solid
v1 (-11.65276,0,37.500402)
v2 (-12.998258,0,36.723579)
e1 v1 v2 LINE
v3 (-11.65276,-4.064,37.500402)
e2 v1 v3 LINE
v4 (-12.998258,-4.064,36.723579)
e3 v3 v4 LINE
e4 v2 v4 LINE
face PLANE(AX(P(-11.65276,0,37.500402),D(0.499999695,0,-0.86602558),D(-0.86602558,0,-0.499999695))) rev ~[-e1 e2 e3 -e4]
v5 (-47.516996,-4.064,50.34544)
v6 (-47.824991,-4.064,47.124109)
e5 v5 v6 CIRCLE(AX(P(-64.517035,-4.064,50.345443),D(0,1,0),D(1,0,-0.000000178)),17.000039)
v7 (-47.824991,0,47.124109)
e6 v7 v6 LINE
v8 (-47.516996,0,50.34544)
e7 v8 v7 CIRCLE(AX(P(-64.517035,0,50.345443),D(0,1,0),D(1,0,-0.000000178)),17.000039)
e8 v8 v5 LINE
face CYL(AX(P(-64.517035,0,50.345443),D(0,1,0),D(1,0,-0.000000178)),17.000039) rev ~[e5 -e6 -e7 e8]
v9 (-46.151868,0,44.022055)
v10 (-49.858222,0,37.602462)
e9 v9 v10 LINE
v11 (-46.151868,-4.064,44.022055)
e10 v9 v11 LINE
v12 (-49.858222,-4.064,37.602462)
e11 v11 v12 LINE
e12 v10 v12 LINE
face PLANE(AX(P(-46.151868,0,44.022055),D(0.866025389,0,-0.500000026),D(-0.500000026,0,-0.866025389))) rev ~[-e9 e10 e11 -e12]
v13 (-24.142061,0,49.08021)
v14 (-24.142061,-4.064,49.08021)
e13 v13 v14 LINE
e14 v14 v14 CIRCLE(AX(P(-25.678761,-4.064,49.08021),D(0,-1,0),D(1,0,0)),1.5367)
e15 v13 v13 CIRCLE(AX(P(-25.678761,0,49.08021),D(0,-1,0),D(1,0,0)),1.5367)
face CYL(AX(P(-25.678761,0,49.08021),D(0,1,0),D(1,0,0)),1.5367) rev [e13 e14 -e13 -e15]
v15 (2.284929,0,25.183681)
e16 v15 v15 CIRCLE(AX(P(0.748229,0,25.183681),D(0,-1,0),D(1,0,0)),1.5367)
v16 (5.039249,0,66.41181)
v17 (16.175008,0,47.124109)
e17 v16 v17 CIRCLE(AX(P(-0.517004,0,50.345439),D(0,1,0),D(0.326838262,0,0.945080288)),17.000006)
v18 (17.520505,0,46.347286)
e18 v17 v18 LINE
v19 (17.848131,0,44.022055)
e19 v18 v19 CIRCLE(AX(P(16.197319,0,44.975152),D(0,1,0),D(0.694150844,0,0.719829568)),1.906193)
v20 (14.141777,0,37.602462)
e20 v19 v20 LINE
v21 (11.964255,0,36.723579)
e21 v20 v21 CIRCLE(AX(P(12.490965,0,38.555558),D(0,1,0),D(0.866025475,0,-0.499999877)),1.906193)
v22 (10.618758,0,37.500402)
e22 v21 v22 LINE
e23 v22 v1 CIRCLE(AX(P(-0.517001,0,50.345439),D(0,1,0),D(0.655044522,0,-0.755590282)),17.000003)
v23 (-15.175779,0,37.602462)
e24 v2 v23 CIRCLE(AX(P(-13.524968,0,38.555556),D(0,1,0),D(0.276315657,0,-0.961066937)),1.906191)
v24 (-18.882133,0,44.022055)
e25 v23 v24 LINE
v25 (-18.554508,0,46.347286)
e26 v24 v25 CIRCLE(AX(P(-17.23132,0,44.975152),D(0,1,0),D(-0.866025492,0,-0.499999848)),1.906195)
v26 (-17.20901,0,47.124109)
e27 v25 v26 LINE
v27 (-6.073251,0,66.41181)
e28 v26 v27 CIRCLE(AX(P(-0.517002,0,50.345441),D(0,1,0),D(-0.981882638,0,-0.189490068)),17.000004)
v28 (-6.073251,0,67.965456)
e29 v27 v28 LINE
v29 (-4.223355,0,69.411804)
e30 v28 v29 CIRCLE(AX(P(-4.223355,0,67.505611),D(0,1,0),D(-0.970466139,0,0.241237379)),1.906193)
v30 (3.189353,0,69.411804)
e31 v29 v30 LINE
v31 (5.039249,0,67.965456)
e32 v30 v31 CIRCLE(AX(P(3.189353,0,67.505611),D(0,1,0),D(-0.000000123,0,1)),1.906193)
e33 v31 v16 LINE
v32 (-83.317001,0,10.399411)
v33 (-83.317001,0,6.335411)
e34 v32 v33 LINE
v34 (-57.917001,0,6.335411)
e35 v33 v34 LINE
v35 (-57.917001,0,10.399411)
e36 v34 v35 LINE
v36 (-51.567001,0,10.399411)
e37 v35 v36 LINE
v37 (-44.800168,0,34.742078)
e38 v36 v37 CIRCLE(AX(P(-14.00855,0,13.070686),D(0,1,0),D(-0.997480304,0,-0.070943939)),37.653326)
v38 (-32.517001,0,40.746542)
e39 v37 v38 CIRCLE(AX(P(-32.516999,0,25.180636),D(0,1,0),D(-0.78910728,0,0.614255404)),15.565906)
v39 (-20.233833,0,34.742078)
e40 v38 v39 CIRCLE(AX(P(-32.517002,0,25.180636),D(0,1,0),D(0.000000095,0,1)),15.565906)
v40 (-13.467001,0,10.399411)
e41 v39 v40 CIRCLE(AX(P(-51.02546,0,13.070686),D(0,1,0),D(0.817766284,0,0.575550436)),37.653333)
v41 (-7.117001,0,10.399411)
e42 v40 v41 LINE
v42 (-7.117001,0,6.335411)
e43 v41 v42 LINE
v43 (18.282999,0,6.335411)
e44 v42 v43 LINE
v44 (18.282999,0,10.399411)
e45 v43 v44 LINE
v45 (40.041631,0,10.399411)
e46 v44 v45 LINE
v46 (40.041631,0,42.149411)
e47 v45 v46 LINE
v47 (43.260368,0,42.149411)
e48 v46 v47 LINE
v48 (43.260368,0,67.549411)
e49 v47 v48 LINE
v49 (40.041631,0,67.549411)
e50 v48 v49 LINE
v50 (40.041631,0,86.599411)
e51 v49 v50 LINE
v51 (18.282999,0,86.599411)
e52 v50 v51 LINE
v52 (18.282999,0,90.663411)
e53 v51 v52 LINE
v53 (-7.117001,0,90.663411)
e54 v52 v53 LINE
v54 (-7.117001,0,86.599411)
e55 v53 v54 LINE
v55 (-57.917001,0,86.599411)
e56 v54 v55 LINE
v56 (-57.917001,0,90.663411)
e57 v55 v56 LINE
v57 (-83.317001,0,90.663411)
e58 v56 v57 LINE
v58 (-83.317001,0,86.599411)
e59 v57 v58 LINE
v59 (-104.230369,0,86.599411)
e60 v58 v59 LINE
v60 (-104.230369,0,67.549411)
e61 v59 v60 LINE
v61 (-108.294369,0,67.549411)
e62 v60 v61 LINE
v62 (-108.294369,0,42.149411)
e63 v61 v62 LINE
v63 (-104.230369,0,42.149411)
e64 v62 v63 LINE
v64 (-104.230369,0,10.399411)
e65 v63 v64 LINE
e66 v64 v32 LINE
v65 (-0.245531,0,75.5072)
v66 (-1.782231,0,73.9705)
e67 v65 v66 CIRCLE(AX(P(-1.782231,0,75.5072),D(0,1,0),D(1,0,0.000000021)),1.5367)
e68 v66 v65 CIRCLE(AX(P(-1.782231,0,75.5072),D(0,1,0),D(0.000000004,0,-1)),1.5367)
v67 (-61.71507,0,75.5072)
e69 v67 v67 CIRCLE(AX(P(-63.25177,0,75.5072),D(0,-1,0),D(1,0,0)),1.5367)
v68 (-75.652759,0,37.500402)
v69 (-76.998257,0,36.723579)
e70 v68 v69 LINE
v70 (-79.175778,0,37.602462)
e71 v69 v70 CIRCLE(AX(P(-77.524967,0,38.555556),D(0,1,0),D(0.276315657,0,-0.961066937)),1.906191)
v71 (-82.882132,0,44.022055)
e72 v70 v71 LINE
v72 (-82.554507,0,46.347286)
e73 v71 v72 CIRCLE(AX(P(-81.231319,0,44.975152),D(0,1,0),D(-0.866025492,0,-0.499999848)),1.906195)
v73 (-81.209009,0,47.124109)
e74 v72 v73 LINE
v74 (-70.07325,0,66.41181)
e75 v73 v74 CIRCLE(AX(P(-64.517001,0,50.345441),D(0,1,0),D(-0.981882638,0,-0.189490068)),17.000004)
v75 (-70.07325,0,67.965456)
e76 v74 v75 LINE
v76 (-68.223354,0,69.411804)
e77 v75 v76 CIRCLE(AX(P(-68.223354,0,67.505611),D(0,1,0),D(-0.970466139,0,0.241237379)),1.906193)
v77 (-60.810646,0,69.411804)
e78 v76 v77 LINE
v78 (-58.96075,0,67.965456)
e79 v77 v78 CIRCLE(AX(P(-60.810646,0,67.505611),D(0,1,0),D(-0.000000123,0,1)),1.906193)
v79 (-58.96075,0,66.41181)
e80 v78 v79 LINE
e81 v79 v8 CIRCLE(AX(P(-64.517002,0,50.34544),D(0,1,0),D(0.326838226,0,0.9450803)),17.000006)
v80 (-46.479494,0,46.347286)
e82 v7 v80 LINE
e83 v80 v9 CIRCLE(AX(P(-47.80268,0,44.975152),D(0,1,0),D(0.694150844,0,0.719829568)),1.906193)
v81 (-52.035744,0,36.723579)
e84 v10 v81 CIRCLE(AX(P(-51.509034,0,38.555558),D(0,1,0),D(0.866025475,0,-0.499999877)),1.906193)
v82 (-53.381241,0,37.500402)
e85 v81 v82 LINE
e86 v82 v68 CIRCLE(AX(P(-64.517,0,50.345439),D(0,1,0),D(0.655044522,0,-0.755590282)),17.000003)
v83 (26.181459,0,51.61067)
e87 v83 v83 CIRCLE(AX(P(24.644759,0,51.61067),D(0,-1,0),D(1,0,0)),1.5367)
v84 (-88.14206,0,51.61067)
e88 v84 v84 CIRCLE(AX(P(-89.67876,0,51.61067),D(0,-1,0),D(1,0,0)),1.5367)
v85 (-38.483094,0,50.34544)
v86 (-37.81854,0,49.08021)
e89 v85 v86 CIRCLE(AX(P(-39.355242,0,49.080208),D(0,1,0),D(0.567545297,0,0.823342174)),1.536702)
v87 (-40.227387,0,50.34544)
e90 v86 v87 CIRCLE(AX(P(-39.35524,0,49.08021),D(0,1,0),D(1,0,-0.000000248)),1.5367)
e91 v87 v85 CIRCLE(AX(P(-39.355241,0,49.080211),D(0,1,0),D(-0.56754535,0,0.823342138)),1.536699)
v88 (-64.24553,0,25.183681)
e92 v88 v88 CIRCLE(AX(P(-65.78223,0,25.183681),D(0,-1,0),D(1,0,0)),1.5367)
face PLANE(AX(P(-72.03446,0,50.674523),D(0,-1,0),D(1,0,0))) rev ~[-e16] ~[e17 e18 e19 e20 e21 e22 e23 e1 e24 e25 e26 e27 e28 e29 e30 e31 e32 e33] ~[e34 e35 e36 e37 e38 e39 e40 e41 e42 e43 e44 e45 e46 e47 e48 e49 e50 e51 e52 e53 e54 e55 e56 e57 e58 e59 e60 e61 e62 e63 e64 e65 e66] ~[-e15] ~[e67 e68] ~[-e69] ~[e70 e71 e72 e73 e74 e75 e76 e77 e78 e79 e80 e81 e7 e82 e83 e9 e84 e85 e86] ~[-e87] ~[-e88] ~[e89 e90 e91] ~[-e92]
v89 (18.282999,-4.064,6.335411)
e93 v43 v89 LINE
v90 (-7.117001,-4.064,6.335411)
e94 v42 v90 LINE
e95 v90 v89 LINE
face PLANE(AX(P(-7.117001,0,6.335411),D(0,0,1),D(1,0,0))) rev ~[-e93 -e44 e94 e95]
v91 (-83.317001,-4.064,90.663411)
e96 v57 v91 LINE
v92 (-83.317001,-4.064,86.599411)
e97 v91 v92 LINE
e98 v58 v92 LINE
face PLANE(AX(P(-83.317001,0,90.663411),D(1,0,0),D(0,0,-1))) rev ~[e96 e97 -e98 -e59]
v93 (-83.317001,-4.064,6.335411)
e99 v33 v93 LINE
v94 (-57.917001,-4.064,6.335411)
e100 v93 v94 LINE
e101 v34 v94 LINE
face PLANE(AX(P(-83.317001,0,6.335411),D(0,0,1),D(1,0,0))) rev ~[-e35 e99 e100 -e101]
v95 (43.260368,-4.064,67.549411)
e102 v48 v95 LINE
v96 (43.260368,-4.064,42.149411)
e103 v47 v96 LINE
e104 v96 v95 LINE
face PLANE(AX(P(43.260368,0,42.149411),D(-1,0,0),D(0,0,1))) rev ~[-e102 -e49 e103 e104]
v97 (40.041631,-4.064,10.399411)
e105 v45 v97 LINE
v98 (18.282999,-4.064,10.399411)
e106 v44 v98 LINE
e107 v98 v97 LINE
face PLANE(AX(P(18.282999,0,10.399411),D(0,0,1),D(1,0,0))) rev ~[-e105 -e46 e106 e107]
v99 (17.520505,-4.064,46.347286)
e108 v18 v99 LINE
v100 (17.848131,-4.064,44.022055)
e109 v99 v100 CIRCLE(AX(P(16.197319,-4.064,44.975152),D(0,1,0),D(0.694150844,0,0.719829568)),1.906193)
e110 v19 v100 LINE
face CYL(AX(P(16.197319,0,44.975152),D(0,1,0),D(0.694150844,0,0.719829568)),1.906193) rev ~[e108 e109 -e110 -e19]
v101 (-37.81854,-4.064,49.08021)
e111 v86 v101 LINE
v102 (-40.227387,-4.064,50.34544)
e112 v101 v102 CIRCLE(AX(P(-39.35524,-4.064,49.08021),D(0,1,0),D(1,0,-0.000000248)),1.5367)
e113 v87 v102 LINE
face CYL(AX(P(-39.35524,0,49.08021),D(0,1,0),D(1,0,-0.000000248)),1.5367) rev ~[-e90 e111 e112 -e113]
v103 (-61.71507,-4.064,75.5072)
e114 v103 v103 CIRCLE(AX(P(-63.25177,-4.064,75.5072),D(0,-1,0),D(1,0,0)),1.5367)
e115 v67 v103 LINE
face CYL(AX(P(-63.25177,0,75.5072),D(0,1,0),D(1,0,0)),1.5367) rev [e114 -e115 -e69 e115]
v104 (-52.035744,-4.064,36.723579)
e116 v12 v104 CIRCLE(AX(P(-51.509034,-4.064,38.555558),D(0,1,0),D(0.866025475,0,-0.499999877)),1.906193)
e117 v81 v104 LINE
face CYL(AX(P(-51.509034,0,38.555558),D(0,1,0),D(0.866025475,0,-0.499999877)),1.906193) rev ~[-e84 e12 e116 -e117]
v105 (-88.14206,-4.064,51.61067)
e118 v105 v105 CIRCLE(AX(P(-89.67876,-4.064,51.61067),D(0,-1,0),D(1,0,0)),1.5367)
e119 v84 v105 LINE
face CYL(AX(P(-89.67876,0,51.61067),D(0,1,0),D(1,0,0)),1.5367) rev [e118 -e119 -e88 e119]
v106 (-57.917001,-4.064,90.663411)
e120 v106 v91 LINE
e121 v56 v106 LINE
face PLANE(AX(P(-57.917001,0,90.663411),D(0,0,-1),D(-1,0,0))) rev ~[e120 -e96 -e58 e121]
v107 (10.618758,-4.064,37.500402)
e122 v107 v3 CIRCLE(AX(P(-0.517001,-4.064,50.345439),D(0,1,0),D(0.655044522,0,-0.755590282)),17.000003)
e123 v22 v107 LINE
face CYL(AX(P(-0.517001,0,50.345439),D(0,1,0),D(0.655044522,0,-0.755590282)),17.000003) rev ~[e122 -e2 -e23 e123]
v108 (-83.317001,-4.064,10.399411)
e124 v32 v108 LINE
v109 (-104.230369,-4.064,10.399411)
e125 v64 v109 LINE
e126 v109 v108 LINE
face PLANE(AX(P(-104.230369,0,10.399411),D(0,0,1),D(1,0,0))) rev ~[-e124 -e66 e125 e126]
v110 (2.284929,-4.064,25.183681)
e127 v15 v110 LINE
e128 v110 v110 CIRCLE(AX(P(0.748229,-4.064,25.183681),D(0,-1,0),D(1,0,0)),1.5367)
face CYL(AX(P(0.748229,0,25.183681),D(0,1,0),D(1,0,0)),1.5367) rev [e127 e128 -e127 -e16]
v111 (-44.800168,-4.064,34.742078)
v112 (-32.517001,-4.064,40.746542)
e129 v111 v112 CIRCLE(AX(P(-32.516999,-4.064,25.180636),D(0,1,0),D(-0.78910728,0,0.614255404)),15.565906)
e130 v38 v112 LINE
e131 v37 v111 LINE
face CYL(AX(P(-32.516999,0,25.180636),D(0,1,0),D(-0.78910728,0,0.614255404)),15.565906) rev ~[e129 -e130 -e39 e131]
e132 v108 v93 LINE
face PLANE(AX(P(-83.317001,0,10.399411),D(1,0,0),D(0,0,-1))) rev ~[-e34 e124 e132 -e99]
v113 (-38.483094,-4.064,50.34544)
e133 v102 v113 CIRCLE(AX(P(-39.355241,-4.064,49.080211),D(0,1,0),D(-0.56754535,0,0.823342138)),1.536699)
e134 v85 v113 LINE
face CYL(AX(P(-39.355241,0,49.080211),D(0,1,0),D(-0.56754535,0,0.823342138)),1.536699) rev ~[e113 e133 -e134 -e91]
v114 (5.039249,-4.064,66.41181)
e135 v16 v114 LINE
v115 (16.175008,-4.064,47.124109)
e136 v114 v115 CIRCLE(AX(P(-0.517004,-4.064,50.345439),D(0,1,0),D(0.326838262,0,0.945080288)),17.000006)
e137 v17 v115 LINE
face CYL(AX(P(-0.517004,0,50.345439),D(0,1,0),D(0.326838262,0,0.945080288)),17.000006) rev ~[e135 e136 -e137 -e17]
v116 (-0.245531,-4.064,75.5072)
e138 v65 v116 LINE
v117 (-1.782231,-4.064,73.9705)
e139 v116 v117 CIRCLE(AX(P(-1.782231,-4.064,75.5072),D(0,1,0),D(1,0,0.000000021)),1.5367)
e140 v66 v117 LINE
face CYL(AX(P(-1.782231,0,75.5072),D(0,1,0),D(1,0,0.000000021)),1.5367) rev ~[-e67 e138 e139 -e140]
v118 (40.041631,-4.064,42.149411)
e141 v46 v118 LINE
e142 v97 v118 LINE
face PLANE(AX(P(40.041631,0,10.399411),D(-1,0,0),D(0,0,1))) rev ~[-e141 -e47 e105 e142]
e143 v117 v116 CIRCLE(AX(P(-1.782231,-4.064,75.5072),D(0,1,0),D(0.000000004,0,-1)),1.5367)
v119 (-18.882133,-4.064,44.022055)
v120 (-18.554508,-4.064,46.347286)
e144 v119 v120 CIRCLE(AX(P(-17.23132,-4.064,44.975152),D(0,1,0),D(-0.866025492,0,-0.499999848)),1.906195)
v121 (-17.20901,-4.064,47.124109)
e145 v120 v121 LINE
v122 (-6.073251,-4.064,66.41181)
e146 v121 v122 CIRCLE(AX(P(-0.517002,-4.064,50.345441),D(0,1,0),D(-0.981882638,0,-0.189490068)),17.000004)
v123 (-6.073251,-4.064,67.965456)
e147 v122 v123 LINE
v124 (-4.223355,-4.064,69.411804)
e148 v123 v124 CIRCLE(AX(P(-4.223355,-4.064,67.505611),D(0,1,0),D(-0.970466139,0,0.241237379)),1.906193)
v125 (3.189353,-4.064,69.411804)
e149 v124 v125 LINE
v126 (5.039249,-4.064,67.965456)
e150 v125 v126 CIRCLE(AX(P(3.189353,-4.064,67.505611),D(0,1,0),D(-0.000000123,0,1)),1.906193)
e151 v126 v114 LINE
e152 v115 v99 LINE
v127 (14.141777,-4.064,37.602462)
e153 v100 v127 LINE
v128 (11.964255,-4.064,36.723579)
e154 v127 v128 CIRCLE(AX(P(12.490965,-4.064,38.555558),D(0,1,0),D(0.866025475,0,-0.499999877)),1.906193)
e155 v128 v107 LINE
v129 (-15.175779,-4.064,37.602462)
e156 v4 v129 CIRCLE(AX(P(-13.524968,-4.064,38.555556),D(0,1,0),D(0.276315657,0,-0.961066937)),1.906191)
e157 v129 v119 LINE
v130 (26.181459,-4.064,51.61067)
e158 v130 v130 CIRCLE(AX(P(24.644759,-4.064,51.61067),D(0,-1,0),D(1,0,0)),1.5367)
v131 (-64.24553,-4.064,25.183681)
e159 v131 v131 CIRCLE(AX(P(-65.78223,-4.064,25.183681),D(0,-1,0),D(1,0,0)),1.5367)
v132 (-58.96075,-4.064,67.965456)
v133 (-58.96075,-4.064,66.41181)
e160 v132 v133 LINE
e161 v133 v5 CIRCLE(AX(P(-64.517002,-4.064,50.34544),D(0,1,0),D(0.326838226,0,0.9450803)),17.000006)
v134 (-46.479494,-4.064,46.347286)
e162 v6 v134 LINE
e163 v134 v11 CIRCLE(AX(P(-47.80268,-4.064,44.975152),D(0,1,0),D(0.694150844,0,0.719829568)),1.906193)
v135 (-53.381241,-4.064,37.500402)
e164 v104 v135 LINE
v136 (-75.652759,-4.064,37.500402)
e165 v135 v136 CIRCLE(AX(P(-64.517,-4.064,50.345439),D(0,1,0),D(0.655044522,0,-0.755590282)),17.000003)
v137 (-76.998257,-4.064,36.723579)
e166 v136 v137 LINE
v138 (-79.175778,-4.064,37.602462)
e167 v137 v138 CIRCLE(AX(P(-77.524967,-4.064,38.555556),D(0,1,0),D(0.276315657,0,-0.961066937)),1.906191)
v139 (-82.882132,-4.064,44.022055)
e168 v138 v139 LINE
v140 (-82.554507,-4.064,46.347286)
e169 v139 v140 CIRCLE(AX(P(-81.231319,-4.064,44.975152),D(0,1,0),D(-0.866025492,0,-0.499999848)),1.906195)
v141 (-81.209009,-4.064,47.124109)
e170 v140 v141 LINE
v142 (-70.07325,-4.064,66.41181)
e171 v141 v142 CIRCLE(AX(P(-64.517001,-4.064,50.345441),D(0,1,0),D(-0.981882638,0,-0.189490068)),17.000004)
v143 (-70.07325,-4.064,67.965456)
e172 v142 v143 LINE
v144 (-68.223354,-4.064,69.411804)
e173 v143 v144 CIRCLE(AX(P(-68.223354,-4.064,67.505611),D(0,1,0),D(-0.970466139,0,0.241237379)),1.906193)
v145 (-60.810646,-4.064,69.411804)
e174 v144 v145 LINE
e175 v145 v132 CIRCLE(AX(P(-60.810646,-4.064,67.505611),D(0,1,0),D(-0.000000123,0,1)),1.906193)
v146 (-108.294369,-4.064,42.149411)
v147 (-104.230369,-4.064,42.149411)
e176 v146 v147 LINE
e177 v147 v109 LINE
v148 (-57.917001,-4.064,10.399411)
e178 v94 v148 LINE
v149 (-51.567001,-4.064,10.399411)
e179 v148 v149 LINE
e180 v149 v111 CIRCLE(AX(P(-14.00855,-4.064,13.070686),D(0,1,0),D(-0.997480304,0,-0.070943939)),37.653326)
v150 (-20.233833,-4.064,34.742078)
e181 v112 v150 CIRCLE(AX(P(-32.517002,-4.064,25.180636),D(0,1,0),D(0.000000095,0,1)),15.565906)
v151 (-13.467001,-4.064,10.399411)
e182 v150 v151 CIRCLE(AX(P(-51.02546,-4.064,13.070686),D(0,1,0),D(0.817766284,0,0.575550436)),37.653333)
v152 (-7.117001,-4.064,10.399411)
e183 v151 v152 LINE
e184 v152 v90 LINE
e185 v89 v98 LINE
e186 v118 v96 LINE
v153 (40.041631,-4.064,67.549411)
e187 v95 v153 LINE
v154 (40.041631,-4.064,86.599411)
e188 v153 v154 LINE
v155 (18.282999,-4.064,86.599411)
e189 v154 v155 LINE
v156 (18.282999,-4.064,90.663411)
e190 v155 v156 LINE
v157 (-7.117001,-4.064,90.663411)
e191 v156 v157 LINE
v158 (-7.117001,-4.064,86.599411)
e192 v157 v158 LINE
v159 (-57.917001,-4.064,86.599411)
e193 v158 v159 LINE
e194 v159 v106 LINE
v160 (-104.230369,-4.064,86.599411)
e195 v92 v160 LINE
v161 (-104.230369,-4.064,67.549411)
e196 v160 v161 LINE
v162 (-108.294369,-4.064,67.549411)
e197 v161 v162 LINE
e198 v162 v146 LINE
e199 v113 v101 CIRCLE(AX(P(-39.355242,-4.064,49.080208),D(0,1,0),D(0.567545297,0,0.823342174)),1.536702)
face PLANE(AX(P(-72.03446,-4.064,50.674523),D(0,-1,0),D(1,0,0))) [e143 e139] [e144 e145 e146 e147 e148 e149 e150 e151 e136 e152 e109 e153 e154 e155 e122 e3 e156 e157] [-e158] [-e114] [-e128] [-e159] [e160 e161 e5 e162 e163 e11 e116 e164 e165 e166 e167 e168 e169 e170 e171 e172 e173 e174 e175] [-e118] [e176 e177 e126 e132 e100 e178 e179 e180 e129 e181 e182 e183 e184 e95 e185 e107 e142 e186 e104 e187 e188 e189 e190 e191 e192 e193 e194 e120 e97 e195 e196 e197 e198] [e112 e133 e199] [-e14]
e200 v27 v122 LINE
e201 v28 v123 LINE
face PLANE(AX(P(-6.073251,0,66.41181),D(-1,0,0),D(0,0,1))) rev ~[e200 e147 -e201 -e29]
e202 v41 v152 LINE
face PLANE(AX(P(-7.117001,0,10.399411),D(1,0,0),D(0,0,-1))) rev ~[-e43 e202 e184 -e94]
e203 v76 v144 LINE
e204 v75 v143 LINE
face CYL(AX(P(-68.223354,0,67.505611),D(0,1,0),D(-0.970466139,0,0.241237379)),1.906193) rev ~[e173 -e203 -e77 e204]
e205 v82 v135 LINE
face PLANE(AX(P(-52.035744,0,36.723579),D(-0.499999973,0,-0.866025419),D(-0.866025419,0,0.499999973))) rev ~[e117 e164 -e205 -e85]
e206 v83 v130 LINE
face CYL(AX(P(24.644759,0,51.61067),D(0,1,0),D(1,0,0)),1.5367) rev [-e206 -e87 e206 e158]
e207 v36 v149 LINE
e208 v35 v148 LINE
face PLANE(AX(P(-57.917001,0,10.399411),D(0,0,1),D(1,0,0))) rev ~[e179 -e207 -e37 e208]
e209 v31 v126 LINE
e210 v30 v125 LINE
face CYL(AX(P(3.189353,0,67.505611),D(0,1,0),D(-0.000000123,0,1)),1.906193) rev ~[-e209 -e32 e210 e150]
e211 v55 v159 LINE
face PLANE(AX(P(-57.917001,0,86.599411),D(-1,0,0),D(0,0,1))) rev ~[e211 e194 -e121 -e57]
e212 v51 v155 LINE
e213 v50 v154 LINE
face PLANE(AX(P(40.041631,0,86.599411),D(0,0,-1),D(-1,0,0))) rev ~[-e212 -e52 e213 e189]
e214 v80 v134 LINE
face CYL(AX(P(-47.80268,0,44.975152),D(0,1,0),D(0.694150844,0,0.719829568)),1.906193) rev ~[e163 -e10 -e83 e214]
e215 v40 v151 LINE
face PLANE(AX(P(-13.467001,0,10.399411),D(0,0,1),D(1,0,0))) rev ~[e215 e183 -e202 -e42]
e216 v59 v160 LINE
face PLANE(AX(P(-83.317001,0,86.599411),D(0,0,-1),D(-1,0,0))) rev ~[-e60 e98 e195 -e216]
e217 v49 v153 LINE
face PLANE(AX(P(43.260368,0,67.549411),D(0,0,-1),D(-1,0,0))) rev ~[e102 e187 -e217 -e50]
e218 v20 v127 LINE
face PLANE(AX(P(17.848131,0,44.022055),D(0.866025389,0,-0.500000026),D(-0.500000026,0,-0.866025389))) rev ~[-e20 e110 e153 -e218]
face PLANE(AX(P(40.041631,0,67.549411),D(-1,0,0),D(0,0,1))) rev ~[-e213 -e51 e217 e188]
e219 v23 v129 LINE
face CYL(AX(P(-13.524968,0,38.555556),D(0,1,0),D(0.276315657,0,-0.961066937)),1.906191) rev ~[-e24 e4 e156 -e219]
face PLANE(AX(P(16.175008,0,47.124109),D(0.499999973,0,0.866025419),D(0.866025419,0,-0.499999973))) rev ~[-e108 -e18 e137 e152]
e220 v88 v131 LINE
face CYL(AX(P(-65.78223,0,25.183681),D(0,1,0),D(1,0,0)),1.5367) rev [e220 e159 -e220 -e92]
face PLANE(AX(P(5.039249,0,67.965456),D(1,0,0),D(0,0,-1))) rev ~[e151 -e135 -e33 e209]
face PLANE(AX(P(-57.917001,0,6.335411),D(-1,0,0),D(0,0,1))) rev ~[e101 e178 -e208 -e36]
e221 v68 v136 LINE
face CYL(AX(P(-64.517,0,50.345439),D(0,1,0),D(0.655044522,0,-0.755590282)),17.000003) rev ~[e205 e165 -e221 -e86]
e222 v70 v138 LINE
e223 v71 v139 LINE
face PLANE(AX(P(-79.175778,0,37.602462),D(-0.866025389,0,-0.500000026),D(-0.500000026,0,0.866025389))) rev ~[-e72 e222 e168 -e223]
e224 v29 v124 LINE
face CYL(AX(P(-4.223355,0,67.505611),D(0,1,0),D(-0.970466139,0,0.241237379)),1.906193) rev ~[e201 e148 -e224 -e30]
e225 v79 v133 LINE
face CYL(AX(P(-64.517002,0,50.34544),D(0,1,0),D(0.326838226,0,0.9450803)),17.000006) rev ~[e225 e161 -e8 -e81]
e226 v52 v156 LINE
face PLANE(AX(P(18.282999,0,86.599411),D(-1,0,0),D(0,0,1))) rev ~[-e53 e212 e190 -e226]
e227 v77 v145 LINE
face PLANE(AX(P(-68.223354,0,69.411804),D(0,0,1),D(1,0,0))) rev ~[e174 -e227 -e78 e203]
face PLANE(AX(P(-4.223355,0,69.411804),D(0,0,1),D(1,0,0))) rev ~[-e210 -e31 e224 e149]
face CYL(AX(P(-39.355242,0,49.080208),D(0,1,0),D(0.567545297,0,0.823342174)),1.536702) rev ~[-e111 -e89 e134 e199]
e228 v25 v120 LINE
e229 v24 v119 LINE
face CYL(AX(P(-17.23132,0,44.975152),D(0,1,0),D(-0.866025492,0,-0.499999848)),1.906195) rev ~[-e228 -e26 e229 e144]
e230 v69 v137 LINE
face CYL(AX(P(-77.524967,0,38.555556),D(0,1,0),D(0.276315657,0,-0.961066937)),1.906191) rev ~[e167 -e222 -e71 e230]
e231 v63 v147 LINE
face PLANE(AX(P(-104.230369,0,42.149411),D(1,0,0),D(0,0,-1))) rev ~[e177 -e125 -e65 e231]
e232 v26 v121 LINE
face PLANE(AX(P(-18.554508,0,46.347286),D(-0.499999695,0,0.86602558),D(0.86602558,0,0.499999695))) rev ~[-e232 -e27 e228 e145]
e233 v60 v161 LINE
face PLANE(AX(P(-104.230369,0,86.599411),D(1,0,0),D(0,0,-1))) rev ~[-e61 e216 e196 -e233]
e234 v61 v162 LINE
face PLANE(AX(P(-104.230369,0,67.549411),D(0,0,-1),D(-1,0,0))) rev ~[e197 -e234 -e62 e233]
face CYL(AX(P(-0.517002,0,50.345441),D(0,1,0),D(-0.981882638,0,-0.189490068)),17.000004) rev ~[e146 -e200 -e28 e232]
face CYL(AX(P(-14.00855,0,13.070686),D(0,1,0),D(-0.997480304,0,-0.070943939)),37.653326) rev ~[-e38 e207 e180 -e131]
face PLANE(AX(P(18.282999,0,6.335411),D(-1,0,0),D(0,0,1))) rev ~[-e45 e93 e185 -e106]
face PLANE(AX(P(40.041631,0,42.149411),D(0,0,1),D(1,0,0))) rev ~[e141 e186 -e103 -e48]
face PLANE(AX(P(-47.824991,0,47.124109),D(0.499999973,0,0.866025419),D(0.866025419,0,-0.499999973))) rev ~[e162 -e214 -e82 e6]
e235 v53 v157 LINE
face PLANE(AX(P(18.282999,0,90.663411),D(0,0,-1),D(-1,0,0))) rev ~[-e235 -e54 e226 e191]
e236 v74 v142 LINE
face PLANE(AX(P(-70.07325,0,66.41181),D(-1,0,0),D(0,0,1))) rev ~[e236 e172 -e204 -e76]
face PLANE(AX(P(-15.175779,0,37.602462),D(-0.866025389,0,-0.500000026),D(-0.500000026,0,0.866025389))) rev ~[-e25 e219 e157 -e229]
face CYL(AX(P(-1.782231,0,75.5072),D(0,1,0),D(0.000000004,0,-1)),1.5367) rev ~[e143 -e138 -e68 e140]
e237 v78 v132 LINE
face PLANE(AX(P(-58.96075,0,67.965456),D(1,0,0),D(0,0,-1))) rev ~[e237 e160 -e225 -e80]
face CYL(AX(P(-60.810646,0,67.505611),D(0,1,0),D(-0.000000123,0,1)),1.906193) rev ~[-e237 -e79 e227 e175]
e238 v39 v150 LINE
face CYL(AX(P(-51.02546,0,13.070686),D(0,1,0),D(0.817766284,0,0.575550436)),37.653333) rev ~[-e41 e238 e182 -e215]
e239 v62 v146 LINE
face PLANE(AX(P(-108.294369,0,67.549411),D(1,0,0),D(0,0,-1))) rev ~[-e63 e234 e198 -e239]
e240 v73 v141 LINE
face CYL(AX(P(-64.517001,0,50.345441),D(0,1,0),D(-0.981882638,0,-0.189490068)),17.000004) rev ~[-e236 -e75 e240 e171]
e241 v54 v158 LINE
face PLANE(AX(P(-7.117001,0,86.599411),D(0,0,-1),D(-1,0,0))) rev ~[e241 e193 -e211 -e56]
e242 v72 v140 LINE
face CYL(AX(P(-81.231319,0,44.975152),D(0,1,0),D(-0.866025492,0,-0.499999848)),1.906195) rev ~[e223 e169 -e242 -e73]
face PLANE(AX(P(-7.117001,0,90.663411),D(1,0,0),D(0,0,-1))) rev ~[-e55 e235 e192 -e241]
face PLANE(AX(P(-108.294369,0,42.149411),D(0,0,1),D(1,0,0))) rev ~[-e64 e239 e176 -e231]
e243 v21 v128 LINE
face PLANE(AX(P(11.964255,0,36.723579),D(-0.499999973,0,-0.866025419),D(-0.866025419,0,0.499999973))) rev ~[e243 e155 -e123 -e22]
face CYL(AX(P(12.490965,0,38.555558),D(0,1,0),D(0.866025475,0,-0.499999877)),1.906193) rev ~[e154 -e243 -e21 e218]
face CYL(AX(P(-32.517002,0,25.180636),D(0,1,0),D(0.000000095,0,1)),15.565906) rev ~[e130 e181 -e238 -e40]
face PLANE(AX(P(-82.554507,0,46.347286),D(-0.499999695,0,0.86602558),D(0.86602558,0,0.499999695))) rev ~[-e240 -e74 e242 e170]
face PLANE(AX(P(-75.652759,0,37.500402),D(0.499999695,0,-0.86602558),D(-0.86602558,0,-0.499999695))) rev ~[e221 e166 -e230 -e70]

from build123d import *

# Parameters (mm, degrees)
F0_R     = 1.5367
F1_DEPTH = 4.064


with BuildPart() as f1:
    # F0 (on Front) → F1 (new body)
    with BuildSketch(Plane.XZ):
        with BuildLine():
            Line((-104.230369, 34.021411), (-104.230369, 10.399411))
            Line((-104.230369, 10.399411), (-83.317001, 10.399411))
            Line((-83.317001, 10.399411), (-83.317001, 6.335411))
            Line((-83.317001, 6.335411), (-57.917001, 6.335411))
            Line((-57.917001, 6.335411), (-57.917001, 10.399411))
            Line((-57.917001, 10.399411), (-51.567001, 10.399411))
            ThreePointArc((-51.567001, 10.399411), (-50.286289, 23.155259), (-44.800168, 34.742078))
            ThreePointArc((-44.800168, 34.742078), (-39.353114, 39.16509), (-32.517001, 40.746542))
            Line((-32.517001, 40.746542), (-32.517001, 50.34544))
            Line((-32.517001, 50.34544), (-32.517001, 86.599411))
            Line((-32.517001, 86.599411), (-57.917001, 86.599411))
            Line((-57.917001, 86.599411), (-57.917001, 90.663411))
            Line((-57.917001, 90.663411), (-83.317001, 90.663411))
            Line((-83.317001, 90.663411), (-83.317001, 86.599411))
            Line((-83.317001, 86.599411), (-104.230369, 86.599411))
            Line((-104.230369, 86.599411), (-104.230369, 67.549411))
            Line((-104.230369, 67.549411), (-108.294369, 67.549411))
            Line((-108.294369, 67.549411), (-108.294369, 64.219405))
            Line((-108.294369, 64.219405), (-108.294369, 42.149411))
            Line((-108.294369, 42.149411), (-104.230369, 42.149411))
            Line((-104.230369, 42.149411), (-104.230369, 34.021411))
        make_face()
        with Locations((-65.78223, 25.183681)):
            Circle(F0_R, mode=Mode.SUBTRACT)
        with Locations((-89.67876, 51.61067)):
            Circle(F0_R, mode=Mode.SUBTRACT)
        with BuildLine():
            ThreePointArc((-58.96075, 66.41181), (-50.670405, 60.208094), (-47.516996, 50.34544))
            ThreePointArc((-47.516996, 50.34544), (-47.59417, 48.72743), (-47.824991, 47.124109))
            Line((-47.824991, 47.124109), (-46.479494, 46.347286))
            ThreePointArc((-46.479494, 46.347286), (-45.915131, 45.241108), (-46.151868, 44.022055))
            Line((-46.151868, 44.022055), (-49.858222, 37.602462))
            ThreePointArc((-49.858222, 37.602462), (-50.795585, 36.787915), (-52.035744, 36.723579))
            Line((-52.035744, 36.723579), (-53.381241, 37.500402))
            ThreePointArc((-53.381241, 37.500402), (-64.517, 33.345436), (-75.652759, 37.500402))
            Line((-75.652759, 37.500402), (-76.998257, 36.723579))
            ThreePointArc((-76.998257, 36.723579), (-78.238416, 36.787915), (-79.175778, 37.602462))
            Line((-79.175778, 37.602462), (-82.882132, 44.022055))
            ThreePointArc((-82.882132, 44.022055), (-83.118869, 45.241108), (-82.554507, 46.347286))
            Line((-82.554507, 46.347286), (-81.209009, 47.124109))
            ThreePointArc((-81.209009, 47.124109), (-79.239436, 58.845442), (-70.07325, 66.41181))
            Line((-70.07325, 66.41181), (-70.07325, 67.965456))
            ThreePointArc((-70.07325, 67.965456), (-69.397453, 69.007298), (-68.223354, 69.411804))
            Line((-68.223354, 69.411804), (-60.810646, 69.411804))
            ThreePointArc((-60.810646, 69.411804), (-59.636547, 69.007298), (-58.96075, 67.965456))
            Line((-58.96075, 67.965456), (-58.96075, 66.41181))
        make_face(mode=Mode.SUBTRACT)
        with BuildLine():
            ThreePointArc((-40.227387, 50.34544), (-39.35524, 50.61691), (-38.483094, 50.34544))
            ThreePointArc((-38.483094, 50.34544), (-37.994786, 49.79478), (-37.81854, 49.08021))
            ThreePointArc((-37.81854, 49.08021), (-40.06981, 47.719756), (-40.227387, 50.34544))
        make_face(mode=Mode.SUBTRACT)
        with Locations((-63.25177, 75.5072)):
            Circle(F0_R, mode=Mode.SUBTRACT)
        with BuildLine():
            Line((-32.517001, 50.34544), (-32.517001, 40.746542))
            ThreePointArc((-32.517001, 40.746542), (-25.680887, 39.16509), (-20.233833, 34.742078))
            ThreePointArc((-20.233833, 34.742078), (-14.747713, 23.155259), (-13.467001, 10.399411))
            Line((-13.467001, 10.399411), (-13.044369, 10.399411))
            Line((-13.044369, 10.399411), (-7.117001, 10.399411))
            Line((-7.117001, 10.399411), (-7.117001, 6.335411))
            Line((-7.117001, 6.335411), (18.282999, 6.335411))
            Line((18.282999, 6.335411), (18.282999, 10.399411))
            Line((18.282999, 10.399411), (40.041631, 10.399411))
            Line((40.041631, 10.399411), (40.041631, 34.021411))
            Line((40.041631, 34.021411), (40.041631, 42.149411))
            Line((40.041631, 42.149411), (43.260368, 42.149411))
            Line((43.260368, 42.149411), (43.260368, 67.549411))
            Line((43.260368, 67.549411), (40.041631, 67.549411))
            Line((40.041631, 67.549411), (40.041631, 86.599411))
            Line((40.041631, 86.599411), (18.282999, 86.599411))
            Line((18.282999, 86.599411), (18.282999, 90.663411))
            Line((18.282999, 90.663411), (-7.117001, 90.663411))
            Line((-7.117001, 90.663411), (-7.117001, 86.599411))
            Line((-7.117001, 86.599411), (-32.517001, 86.599411))
            Line((-32.517001, 86.599411), (-32.517001, 50.34544))
        make_face()
        with Locations((0.748229, 25.183681)):
            Circle(F0_R, mode=Mode.SUBTRACT)
        with Locations((-25.678761, 49.08021)):
            Circle(F0_R, mode=Mode.SUBTRACT)
        with BuildLine():
            Line((5.039249, 67.965456), (5.039249, 66.41181))
            ThreePointArc((5.039249, 66.41181), (14.205434, 58.845442), (16.175008, 47.124109))
            Line((16.175008, 47.124109), (17.520505, 46.347286))
            ThreePointArc((17.520505, 46.347286), (18.084868, 45.241108), (17.848131, 44.022055))
            Line((17.848131, 44.022055), (14.141777, 37.602462))
            ThreePointArc((14.141777, 37.602462), (13.204414, 36.787915), (11.964255, 36.723579))
            Line((11.964255, 36.723579), (10.618758, 37.500402))
            ThreePointArc((10.618758, 37.500402), (-0.517001, 33.345436), (-11.65276, 37.500402))
            Line((-11.65276, 37.500402), (-12.998258, 36.723579))
            ThreePointArc((-12.998258, 36.723579), (-14.238417, 36.787915), (-15.175779, 37.602462))
            Line((-15.175779, 37.602462), (-18.882133, 44.022055))
            ThreePointArc((-18.882133, 44.022055), (-19.11887, 45.241108), (-18.554508, 46.347286))
            Line((-18.554508, 46.347286), (-17.20901, 47.124109))
            ThreePointArc((-17.20901, 47.124109), (-15.239437, 58.845442), (-6.073251, 66.41181))
            Line((-6.073251, 66.41181), (-6.073251, 67.965456))
            ThreePointArc((-6.073251, 67.965456), (-5.397454, 69.007298), (-4.223355, 69.411804))
            Line((-4.223355, 69.411804), (3.189353, 69.411804))
            ThreePointArc((3.189353, 69.411804), (4.363452, 69.007298), (5.039249, 67.965456))
        make_face(mode=Mode.SUBTRACT)
        with Locations((24.644759, 51.61067)):
            Circle(F0_R, mode=Mode.SUBTRACT)
        with BuildLine():
            ThreePointArc((-1.782231, 73.9705), (-2.868842, 76.593811), (-0.245531, 75.5072))
            ThreePointArc((-0.245531, 75.5072), (-0.69562, 74.420589), (-1.782231, 73.9705))
        make_face(mode=Mode.SUBTRACT)
    extrude(amount=F1_DEPTH)


solid = f1.part
